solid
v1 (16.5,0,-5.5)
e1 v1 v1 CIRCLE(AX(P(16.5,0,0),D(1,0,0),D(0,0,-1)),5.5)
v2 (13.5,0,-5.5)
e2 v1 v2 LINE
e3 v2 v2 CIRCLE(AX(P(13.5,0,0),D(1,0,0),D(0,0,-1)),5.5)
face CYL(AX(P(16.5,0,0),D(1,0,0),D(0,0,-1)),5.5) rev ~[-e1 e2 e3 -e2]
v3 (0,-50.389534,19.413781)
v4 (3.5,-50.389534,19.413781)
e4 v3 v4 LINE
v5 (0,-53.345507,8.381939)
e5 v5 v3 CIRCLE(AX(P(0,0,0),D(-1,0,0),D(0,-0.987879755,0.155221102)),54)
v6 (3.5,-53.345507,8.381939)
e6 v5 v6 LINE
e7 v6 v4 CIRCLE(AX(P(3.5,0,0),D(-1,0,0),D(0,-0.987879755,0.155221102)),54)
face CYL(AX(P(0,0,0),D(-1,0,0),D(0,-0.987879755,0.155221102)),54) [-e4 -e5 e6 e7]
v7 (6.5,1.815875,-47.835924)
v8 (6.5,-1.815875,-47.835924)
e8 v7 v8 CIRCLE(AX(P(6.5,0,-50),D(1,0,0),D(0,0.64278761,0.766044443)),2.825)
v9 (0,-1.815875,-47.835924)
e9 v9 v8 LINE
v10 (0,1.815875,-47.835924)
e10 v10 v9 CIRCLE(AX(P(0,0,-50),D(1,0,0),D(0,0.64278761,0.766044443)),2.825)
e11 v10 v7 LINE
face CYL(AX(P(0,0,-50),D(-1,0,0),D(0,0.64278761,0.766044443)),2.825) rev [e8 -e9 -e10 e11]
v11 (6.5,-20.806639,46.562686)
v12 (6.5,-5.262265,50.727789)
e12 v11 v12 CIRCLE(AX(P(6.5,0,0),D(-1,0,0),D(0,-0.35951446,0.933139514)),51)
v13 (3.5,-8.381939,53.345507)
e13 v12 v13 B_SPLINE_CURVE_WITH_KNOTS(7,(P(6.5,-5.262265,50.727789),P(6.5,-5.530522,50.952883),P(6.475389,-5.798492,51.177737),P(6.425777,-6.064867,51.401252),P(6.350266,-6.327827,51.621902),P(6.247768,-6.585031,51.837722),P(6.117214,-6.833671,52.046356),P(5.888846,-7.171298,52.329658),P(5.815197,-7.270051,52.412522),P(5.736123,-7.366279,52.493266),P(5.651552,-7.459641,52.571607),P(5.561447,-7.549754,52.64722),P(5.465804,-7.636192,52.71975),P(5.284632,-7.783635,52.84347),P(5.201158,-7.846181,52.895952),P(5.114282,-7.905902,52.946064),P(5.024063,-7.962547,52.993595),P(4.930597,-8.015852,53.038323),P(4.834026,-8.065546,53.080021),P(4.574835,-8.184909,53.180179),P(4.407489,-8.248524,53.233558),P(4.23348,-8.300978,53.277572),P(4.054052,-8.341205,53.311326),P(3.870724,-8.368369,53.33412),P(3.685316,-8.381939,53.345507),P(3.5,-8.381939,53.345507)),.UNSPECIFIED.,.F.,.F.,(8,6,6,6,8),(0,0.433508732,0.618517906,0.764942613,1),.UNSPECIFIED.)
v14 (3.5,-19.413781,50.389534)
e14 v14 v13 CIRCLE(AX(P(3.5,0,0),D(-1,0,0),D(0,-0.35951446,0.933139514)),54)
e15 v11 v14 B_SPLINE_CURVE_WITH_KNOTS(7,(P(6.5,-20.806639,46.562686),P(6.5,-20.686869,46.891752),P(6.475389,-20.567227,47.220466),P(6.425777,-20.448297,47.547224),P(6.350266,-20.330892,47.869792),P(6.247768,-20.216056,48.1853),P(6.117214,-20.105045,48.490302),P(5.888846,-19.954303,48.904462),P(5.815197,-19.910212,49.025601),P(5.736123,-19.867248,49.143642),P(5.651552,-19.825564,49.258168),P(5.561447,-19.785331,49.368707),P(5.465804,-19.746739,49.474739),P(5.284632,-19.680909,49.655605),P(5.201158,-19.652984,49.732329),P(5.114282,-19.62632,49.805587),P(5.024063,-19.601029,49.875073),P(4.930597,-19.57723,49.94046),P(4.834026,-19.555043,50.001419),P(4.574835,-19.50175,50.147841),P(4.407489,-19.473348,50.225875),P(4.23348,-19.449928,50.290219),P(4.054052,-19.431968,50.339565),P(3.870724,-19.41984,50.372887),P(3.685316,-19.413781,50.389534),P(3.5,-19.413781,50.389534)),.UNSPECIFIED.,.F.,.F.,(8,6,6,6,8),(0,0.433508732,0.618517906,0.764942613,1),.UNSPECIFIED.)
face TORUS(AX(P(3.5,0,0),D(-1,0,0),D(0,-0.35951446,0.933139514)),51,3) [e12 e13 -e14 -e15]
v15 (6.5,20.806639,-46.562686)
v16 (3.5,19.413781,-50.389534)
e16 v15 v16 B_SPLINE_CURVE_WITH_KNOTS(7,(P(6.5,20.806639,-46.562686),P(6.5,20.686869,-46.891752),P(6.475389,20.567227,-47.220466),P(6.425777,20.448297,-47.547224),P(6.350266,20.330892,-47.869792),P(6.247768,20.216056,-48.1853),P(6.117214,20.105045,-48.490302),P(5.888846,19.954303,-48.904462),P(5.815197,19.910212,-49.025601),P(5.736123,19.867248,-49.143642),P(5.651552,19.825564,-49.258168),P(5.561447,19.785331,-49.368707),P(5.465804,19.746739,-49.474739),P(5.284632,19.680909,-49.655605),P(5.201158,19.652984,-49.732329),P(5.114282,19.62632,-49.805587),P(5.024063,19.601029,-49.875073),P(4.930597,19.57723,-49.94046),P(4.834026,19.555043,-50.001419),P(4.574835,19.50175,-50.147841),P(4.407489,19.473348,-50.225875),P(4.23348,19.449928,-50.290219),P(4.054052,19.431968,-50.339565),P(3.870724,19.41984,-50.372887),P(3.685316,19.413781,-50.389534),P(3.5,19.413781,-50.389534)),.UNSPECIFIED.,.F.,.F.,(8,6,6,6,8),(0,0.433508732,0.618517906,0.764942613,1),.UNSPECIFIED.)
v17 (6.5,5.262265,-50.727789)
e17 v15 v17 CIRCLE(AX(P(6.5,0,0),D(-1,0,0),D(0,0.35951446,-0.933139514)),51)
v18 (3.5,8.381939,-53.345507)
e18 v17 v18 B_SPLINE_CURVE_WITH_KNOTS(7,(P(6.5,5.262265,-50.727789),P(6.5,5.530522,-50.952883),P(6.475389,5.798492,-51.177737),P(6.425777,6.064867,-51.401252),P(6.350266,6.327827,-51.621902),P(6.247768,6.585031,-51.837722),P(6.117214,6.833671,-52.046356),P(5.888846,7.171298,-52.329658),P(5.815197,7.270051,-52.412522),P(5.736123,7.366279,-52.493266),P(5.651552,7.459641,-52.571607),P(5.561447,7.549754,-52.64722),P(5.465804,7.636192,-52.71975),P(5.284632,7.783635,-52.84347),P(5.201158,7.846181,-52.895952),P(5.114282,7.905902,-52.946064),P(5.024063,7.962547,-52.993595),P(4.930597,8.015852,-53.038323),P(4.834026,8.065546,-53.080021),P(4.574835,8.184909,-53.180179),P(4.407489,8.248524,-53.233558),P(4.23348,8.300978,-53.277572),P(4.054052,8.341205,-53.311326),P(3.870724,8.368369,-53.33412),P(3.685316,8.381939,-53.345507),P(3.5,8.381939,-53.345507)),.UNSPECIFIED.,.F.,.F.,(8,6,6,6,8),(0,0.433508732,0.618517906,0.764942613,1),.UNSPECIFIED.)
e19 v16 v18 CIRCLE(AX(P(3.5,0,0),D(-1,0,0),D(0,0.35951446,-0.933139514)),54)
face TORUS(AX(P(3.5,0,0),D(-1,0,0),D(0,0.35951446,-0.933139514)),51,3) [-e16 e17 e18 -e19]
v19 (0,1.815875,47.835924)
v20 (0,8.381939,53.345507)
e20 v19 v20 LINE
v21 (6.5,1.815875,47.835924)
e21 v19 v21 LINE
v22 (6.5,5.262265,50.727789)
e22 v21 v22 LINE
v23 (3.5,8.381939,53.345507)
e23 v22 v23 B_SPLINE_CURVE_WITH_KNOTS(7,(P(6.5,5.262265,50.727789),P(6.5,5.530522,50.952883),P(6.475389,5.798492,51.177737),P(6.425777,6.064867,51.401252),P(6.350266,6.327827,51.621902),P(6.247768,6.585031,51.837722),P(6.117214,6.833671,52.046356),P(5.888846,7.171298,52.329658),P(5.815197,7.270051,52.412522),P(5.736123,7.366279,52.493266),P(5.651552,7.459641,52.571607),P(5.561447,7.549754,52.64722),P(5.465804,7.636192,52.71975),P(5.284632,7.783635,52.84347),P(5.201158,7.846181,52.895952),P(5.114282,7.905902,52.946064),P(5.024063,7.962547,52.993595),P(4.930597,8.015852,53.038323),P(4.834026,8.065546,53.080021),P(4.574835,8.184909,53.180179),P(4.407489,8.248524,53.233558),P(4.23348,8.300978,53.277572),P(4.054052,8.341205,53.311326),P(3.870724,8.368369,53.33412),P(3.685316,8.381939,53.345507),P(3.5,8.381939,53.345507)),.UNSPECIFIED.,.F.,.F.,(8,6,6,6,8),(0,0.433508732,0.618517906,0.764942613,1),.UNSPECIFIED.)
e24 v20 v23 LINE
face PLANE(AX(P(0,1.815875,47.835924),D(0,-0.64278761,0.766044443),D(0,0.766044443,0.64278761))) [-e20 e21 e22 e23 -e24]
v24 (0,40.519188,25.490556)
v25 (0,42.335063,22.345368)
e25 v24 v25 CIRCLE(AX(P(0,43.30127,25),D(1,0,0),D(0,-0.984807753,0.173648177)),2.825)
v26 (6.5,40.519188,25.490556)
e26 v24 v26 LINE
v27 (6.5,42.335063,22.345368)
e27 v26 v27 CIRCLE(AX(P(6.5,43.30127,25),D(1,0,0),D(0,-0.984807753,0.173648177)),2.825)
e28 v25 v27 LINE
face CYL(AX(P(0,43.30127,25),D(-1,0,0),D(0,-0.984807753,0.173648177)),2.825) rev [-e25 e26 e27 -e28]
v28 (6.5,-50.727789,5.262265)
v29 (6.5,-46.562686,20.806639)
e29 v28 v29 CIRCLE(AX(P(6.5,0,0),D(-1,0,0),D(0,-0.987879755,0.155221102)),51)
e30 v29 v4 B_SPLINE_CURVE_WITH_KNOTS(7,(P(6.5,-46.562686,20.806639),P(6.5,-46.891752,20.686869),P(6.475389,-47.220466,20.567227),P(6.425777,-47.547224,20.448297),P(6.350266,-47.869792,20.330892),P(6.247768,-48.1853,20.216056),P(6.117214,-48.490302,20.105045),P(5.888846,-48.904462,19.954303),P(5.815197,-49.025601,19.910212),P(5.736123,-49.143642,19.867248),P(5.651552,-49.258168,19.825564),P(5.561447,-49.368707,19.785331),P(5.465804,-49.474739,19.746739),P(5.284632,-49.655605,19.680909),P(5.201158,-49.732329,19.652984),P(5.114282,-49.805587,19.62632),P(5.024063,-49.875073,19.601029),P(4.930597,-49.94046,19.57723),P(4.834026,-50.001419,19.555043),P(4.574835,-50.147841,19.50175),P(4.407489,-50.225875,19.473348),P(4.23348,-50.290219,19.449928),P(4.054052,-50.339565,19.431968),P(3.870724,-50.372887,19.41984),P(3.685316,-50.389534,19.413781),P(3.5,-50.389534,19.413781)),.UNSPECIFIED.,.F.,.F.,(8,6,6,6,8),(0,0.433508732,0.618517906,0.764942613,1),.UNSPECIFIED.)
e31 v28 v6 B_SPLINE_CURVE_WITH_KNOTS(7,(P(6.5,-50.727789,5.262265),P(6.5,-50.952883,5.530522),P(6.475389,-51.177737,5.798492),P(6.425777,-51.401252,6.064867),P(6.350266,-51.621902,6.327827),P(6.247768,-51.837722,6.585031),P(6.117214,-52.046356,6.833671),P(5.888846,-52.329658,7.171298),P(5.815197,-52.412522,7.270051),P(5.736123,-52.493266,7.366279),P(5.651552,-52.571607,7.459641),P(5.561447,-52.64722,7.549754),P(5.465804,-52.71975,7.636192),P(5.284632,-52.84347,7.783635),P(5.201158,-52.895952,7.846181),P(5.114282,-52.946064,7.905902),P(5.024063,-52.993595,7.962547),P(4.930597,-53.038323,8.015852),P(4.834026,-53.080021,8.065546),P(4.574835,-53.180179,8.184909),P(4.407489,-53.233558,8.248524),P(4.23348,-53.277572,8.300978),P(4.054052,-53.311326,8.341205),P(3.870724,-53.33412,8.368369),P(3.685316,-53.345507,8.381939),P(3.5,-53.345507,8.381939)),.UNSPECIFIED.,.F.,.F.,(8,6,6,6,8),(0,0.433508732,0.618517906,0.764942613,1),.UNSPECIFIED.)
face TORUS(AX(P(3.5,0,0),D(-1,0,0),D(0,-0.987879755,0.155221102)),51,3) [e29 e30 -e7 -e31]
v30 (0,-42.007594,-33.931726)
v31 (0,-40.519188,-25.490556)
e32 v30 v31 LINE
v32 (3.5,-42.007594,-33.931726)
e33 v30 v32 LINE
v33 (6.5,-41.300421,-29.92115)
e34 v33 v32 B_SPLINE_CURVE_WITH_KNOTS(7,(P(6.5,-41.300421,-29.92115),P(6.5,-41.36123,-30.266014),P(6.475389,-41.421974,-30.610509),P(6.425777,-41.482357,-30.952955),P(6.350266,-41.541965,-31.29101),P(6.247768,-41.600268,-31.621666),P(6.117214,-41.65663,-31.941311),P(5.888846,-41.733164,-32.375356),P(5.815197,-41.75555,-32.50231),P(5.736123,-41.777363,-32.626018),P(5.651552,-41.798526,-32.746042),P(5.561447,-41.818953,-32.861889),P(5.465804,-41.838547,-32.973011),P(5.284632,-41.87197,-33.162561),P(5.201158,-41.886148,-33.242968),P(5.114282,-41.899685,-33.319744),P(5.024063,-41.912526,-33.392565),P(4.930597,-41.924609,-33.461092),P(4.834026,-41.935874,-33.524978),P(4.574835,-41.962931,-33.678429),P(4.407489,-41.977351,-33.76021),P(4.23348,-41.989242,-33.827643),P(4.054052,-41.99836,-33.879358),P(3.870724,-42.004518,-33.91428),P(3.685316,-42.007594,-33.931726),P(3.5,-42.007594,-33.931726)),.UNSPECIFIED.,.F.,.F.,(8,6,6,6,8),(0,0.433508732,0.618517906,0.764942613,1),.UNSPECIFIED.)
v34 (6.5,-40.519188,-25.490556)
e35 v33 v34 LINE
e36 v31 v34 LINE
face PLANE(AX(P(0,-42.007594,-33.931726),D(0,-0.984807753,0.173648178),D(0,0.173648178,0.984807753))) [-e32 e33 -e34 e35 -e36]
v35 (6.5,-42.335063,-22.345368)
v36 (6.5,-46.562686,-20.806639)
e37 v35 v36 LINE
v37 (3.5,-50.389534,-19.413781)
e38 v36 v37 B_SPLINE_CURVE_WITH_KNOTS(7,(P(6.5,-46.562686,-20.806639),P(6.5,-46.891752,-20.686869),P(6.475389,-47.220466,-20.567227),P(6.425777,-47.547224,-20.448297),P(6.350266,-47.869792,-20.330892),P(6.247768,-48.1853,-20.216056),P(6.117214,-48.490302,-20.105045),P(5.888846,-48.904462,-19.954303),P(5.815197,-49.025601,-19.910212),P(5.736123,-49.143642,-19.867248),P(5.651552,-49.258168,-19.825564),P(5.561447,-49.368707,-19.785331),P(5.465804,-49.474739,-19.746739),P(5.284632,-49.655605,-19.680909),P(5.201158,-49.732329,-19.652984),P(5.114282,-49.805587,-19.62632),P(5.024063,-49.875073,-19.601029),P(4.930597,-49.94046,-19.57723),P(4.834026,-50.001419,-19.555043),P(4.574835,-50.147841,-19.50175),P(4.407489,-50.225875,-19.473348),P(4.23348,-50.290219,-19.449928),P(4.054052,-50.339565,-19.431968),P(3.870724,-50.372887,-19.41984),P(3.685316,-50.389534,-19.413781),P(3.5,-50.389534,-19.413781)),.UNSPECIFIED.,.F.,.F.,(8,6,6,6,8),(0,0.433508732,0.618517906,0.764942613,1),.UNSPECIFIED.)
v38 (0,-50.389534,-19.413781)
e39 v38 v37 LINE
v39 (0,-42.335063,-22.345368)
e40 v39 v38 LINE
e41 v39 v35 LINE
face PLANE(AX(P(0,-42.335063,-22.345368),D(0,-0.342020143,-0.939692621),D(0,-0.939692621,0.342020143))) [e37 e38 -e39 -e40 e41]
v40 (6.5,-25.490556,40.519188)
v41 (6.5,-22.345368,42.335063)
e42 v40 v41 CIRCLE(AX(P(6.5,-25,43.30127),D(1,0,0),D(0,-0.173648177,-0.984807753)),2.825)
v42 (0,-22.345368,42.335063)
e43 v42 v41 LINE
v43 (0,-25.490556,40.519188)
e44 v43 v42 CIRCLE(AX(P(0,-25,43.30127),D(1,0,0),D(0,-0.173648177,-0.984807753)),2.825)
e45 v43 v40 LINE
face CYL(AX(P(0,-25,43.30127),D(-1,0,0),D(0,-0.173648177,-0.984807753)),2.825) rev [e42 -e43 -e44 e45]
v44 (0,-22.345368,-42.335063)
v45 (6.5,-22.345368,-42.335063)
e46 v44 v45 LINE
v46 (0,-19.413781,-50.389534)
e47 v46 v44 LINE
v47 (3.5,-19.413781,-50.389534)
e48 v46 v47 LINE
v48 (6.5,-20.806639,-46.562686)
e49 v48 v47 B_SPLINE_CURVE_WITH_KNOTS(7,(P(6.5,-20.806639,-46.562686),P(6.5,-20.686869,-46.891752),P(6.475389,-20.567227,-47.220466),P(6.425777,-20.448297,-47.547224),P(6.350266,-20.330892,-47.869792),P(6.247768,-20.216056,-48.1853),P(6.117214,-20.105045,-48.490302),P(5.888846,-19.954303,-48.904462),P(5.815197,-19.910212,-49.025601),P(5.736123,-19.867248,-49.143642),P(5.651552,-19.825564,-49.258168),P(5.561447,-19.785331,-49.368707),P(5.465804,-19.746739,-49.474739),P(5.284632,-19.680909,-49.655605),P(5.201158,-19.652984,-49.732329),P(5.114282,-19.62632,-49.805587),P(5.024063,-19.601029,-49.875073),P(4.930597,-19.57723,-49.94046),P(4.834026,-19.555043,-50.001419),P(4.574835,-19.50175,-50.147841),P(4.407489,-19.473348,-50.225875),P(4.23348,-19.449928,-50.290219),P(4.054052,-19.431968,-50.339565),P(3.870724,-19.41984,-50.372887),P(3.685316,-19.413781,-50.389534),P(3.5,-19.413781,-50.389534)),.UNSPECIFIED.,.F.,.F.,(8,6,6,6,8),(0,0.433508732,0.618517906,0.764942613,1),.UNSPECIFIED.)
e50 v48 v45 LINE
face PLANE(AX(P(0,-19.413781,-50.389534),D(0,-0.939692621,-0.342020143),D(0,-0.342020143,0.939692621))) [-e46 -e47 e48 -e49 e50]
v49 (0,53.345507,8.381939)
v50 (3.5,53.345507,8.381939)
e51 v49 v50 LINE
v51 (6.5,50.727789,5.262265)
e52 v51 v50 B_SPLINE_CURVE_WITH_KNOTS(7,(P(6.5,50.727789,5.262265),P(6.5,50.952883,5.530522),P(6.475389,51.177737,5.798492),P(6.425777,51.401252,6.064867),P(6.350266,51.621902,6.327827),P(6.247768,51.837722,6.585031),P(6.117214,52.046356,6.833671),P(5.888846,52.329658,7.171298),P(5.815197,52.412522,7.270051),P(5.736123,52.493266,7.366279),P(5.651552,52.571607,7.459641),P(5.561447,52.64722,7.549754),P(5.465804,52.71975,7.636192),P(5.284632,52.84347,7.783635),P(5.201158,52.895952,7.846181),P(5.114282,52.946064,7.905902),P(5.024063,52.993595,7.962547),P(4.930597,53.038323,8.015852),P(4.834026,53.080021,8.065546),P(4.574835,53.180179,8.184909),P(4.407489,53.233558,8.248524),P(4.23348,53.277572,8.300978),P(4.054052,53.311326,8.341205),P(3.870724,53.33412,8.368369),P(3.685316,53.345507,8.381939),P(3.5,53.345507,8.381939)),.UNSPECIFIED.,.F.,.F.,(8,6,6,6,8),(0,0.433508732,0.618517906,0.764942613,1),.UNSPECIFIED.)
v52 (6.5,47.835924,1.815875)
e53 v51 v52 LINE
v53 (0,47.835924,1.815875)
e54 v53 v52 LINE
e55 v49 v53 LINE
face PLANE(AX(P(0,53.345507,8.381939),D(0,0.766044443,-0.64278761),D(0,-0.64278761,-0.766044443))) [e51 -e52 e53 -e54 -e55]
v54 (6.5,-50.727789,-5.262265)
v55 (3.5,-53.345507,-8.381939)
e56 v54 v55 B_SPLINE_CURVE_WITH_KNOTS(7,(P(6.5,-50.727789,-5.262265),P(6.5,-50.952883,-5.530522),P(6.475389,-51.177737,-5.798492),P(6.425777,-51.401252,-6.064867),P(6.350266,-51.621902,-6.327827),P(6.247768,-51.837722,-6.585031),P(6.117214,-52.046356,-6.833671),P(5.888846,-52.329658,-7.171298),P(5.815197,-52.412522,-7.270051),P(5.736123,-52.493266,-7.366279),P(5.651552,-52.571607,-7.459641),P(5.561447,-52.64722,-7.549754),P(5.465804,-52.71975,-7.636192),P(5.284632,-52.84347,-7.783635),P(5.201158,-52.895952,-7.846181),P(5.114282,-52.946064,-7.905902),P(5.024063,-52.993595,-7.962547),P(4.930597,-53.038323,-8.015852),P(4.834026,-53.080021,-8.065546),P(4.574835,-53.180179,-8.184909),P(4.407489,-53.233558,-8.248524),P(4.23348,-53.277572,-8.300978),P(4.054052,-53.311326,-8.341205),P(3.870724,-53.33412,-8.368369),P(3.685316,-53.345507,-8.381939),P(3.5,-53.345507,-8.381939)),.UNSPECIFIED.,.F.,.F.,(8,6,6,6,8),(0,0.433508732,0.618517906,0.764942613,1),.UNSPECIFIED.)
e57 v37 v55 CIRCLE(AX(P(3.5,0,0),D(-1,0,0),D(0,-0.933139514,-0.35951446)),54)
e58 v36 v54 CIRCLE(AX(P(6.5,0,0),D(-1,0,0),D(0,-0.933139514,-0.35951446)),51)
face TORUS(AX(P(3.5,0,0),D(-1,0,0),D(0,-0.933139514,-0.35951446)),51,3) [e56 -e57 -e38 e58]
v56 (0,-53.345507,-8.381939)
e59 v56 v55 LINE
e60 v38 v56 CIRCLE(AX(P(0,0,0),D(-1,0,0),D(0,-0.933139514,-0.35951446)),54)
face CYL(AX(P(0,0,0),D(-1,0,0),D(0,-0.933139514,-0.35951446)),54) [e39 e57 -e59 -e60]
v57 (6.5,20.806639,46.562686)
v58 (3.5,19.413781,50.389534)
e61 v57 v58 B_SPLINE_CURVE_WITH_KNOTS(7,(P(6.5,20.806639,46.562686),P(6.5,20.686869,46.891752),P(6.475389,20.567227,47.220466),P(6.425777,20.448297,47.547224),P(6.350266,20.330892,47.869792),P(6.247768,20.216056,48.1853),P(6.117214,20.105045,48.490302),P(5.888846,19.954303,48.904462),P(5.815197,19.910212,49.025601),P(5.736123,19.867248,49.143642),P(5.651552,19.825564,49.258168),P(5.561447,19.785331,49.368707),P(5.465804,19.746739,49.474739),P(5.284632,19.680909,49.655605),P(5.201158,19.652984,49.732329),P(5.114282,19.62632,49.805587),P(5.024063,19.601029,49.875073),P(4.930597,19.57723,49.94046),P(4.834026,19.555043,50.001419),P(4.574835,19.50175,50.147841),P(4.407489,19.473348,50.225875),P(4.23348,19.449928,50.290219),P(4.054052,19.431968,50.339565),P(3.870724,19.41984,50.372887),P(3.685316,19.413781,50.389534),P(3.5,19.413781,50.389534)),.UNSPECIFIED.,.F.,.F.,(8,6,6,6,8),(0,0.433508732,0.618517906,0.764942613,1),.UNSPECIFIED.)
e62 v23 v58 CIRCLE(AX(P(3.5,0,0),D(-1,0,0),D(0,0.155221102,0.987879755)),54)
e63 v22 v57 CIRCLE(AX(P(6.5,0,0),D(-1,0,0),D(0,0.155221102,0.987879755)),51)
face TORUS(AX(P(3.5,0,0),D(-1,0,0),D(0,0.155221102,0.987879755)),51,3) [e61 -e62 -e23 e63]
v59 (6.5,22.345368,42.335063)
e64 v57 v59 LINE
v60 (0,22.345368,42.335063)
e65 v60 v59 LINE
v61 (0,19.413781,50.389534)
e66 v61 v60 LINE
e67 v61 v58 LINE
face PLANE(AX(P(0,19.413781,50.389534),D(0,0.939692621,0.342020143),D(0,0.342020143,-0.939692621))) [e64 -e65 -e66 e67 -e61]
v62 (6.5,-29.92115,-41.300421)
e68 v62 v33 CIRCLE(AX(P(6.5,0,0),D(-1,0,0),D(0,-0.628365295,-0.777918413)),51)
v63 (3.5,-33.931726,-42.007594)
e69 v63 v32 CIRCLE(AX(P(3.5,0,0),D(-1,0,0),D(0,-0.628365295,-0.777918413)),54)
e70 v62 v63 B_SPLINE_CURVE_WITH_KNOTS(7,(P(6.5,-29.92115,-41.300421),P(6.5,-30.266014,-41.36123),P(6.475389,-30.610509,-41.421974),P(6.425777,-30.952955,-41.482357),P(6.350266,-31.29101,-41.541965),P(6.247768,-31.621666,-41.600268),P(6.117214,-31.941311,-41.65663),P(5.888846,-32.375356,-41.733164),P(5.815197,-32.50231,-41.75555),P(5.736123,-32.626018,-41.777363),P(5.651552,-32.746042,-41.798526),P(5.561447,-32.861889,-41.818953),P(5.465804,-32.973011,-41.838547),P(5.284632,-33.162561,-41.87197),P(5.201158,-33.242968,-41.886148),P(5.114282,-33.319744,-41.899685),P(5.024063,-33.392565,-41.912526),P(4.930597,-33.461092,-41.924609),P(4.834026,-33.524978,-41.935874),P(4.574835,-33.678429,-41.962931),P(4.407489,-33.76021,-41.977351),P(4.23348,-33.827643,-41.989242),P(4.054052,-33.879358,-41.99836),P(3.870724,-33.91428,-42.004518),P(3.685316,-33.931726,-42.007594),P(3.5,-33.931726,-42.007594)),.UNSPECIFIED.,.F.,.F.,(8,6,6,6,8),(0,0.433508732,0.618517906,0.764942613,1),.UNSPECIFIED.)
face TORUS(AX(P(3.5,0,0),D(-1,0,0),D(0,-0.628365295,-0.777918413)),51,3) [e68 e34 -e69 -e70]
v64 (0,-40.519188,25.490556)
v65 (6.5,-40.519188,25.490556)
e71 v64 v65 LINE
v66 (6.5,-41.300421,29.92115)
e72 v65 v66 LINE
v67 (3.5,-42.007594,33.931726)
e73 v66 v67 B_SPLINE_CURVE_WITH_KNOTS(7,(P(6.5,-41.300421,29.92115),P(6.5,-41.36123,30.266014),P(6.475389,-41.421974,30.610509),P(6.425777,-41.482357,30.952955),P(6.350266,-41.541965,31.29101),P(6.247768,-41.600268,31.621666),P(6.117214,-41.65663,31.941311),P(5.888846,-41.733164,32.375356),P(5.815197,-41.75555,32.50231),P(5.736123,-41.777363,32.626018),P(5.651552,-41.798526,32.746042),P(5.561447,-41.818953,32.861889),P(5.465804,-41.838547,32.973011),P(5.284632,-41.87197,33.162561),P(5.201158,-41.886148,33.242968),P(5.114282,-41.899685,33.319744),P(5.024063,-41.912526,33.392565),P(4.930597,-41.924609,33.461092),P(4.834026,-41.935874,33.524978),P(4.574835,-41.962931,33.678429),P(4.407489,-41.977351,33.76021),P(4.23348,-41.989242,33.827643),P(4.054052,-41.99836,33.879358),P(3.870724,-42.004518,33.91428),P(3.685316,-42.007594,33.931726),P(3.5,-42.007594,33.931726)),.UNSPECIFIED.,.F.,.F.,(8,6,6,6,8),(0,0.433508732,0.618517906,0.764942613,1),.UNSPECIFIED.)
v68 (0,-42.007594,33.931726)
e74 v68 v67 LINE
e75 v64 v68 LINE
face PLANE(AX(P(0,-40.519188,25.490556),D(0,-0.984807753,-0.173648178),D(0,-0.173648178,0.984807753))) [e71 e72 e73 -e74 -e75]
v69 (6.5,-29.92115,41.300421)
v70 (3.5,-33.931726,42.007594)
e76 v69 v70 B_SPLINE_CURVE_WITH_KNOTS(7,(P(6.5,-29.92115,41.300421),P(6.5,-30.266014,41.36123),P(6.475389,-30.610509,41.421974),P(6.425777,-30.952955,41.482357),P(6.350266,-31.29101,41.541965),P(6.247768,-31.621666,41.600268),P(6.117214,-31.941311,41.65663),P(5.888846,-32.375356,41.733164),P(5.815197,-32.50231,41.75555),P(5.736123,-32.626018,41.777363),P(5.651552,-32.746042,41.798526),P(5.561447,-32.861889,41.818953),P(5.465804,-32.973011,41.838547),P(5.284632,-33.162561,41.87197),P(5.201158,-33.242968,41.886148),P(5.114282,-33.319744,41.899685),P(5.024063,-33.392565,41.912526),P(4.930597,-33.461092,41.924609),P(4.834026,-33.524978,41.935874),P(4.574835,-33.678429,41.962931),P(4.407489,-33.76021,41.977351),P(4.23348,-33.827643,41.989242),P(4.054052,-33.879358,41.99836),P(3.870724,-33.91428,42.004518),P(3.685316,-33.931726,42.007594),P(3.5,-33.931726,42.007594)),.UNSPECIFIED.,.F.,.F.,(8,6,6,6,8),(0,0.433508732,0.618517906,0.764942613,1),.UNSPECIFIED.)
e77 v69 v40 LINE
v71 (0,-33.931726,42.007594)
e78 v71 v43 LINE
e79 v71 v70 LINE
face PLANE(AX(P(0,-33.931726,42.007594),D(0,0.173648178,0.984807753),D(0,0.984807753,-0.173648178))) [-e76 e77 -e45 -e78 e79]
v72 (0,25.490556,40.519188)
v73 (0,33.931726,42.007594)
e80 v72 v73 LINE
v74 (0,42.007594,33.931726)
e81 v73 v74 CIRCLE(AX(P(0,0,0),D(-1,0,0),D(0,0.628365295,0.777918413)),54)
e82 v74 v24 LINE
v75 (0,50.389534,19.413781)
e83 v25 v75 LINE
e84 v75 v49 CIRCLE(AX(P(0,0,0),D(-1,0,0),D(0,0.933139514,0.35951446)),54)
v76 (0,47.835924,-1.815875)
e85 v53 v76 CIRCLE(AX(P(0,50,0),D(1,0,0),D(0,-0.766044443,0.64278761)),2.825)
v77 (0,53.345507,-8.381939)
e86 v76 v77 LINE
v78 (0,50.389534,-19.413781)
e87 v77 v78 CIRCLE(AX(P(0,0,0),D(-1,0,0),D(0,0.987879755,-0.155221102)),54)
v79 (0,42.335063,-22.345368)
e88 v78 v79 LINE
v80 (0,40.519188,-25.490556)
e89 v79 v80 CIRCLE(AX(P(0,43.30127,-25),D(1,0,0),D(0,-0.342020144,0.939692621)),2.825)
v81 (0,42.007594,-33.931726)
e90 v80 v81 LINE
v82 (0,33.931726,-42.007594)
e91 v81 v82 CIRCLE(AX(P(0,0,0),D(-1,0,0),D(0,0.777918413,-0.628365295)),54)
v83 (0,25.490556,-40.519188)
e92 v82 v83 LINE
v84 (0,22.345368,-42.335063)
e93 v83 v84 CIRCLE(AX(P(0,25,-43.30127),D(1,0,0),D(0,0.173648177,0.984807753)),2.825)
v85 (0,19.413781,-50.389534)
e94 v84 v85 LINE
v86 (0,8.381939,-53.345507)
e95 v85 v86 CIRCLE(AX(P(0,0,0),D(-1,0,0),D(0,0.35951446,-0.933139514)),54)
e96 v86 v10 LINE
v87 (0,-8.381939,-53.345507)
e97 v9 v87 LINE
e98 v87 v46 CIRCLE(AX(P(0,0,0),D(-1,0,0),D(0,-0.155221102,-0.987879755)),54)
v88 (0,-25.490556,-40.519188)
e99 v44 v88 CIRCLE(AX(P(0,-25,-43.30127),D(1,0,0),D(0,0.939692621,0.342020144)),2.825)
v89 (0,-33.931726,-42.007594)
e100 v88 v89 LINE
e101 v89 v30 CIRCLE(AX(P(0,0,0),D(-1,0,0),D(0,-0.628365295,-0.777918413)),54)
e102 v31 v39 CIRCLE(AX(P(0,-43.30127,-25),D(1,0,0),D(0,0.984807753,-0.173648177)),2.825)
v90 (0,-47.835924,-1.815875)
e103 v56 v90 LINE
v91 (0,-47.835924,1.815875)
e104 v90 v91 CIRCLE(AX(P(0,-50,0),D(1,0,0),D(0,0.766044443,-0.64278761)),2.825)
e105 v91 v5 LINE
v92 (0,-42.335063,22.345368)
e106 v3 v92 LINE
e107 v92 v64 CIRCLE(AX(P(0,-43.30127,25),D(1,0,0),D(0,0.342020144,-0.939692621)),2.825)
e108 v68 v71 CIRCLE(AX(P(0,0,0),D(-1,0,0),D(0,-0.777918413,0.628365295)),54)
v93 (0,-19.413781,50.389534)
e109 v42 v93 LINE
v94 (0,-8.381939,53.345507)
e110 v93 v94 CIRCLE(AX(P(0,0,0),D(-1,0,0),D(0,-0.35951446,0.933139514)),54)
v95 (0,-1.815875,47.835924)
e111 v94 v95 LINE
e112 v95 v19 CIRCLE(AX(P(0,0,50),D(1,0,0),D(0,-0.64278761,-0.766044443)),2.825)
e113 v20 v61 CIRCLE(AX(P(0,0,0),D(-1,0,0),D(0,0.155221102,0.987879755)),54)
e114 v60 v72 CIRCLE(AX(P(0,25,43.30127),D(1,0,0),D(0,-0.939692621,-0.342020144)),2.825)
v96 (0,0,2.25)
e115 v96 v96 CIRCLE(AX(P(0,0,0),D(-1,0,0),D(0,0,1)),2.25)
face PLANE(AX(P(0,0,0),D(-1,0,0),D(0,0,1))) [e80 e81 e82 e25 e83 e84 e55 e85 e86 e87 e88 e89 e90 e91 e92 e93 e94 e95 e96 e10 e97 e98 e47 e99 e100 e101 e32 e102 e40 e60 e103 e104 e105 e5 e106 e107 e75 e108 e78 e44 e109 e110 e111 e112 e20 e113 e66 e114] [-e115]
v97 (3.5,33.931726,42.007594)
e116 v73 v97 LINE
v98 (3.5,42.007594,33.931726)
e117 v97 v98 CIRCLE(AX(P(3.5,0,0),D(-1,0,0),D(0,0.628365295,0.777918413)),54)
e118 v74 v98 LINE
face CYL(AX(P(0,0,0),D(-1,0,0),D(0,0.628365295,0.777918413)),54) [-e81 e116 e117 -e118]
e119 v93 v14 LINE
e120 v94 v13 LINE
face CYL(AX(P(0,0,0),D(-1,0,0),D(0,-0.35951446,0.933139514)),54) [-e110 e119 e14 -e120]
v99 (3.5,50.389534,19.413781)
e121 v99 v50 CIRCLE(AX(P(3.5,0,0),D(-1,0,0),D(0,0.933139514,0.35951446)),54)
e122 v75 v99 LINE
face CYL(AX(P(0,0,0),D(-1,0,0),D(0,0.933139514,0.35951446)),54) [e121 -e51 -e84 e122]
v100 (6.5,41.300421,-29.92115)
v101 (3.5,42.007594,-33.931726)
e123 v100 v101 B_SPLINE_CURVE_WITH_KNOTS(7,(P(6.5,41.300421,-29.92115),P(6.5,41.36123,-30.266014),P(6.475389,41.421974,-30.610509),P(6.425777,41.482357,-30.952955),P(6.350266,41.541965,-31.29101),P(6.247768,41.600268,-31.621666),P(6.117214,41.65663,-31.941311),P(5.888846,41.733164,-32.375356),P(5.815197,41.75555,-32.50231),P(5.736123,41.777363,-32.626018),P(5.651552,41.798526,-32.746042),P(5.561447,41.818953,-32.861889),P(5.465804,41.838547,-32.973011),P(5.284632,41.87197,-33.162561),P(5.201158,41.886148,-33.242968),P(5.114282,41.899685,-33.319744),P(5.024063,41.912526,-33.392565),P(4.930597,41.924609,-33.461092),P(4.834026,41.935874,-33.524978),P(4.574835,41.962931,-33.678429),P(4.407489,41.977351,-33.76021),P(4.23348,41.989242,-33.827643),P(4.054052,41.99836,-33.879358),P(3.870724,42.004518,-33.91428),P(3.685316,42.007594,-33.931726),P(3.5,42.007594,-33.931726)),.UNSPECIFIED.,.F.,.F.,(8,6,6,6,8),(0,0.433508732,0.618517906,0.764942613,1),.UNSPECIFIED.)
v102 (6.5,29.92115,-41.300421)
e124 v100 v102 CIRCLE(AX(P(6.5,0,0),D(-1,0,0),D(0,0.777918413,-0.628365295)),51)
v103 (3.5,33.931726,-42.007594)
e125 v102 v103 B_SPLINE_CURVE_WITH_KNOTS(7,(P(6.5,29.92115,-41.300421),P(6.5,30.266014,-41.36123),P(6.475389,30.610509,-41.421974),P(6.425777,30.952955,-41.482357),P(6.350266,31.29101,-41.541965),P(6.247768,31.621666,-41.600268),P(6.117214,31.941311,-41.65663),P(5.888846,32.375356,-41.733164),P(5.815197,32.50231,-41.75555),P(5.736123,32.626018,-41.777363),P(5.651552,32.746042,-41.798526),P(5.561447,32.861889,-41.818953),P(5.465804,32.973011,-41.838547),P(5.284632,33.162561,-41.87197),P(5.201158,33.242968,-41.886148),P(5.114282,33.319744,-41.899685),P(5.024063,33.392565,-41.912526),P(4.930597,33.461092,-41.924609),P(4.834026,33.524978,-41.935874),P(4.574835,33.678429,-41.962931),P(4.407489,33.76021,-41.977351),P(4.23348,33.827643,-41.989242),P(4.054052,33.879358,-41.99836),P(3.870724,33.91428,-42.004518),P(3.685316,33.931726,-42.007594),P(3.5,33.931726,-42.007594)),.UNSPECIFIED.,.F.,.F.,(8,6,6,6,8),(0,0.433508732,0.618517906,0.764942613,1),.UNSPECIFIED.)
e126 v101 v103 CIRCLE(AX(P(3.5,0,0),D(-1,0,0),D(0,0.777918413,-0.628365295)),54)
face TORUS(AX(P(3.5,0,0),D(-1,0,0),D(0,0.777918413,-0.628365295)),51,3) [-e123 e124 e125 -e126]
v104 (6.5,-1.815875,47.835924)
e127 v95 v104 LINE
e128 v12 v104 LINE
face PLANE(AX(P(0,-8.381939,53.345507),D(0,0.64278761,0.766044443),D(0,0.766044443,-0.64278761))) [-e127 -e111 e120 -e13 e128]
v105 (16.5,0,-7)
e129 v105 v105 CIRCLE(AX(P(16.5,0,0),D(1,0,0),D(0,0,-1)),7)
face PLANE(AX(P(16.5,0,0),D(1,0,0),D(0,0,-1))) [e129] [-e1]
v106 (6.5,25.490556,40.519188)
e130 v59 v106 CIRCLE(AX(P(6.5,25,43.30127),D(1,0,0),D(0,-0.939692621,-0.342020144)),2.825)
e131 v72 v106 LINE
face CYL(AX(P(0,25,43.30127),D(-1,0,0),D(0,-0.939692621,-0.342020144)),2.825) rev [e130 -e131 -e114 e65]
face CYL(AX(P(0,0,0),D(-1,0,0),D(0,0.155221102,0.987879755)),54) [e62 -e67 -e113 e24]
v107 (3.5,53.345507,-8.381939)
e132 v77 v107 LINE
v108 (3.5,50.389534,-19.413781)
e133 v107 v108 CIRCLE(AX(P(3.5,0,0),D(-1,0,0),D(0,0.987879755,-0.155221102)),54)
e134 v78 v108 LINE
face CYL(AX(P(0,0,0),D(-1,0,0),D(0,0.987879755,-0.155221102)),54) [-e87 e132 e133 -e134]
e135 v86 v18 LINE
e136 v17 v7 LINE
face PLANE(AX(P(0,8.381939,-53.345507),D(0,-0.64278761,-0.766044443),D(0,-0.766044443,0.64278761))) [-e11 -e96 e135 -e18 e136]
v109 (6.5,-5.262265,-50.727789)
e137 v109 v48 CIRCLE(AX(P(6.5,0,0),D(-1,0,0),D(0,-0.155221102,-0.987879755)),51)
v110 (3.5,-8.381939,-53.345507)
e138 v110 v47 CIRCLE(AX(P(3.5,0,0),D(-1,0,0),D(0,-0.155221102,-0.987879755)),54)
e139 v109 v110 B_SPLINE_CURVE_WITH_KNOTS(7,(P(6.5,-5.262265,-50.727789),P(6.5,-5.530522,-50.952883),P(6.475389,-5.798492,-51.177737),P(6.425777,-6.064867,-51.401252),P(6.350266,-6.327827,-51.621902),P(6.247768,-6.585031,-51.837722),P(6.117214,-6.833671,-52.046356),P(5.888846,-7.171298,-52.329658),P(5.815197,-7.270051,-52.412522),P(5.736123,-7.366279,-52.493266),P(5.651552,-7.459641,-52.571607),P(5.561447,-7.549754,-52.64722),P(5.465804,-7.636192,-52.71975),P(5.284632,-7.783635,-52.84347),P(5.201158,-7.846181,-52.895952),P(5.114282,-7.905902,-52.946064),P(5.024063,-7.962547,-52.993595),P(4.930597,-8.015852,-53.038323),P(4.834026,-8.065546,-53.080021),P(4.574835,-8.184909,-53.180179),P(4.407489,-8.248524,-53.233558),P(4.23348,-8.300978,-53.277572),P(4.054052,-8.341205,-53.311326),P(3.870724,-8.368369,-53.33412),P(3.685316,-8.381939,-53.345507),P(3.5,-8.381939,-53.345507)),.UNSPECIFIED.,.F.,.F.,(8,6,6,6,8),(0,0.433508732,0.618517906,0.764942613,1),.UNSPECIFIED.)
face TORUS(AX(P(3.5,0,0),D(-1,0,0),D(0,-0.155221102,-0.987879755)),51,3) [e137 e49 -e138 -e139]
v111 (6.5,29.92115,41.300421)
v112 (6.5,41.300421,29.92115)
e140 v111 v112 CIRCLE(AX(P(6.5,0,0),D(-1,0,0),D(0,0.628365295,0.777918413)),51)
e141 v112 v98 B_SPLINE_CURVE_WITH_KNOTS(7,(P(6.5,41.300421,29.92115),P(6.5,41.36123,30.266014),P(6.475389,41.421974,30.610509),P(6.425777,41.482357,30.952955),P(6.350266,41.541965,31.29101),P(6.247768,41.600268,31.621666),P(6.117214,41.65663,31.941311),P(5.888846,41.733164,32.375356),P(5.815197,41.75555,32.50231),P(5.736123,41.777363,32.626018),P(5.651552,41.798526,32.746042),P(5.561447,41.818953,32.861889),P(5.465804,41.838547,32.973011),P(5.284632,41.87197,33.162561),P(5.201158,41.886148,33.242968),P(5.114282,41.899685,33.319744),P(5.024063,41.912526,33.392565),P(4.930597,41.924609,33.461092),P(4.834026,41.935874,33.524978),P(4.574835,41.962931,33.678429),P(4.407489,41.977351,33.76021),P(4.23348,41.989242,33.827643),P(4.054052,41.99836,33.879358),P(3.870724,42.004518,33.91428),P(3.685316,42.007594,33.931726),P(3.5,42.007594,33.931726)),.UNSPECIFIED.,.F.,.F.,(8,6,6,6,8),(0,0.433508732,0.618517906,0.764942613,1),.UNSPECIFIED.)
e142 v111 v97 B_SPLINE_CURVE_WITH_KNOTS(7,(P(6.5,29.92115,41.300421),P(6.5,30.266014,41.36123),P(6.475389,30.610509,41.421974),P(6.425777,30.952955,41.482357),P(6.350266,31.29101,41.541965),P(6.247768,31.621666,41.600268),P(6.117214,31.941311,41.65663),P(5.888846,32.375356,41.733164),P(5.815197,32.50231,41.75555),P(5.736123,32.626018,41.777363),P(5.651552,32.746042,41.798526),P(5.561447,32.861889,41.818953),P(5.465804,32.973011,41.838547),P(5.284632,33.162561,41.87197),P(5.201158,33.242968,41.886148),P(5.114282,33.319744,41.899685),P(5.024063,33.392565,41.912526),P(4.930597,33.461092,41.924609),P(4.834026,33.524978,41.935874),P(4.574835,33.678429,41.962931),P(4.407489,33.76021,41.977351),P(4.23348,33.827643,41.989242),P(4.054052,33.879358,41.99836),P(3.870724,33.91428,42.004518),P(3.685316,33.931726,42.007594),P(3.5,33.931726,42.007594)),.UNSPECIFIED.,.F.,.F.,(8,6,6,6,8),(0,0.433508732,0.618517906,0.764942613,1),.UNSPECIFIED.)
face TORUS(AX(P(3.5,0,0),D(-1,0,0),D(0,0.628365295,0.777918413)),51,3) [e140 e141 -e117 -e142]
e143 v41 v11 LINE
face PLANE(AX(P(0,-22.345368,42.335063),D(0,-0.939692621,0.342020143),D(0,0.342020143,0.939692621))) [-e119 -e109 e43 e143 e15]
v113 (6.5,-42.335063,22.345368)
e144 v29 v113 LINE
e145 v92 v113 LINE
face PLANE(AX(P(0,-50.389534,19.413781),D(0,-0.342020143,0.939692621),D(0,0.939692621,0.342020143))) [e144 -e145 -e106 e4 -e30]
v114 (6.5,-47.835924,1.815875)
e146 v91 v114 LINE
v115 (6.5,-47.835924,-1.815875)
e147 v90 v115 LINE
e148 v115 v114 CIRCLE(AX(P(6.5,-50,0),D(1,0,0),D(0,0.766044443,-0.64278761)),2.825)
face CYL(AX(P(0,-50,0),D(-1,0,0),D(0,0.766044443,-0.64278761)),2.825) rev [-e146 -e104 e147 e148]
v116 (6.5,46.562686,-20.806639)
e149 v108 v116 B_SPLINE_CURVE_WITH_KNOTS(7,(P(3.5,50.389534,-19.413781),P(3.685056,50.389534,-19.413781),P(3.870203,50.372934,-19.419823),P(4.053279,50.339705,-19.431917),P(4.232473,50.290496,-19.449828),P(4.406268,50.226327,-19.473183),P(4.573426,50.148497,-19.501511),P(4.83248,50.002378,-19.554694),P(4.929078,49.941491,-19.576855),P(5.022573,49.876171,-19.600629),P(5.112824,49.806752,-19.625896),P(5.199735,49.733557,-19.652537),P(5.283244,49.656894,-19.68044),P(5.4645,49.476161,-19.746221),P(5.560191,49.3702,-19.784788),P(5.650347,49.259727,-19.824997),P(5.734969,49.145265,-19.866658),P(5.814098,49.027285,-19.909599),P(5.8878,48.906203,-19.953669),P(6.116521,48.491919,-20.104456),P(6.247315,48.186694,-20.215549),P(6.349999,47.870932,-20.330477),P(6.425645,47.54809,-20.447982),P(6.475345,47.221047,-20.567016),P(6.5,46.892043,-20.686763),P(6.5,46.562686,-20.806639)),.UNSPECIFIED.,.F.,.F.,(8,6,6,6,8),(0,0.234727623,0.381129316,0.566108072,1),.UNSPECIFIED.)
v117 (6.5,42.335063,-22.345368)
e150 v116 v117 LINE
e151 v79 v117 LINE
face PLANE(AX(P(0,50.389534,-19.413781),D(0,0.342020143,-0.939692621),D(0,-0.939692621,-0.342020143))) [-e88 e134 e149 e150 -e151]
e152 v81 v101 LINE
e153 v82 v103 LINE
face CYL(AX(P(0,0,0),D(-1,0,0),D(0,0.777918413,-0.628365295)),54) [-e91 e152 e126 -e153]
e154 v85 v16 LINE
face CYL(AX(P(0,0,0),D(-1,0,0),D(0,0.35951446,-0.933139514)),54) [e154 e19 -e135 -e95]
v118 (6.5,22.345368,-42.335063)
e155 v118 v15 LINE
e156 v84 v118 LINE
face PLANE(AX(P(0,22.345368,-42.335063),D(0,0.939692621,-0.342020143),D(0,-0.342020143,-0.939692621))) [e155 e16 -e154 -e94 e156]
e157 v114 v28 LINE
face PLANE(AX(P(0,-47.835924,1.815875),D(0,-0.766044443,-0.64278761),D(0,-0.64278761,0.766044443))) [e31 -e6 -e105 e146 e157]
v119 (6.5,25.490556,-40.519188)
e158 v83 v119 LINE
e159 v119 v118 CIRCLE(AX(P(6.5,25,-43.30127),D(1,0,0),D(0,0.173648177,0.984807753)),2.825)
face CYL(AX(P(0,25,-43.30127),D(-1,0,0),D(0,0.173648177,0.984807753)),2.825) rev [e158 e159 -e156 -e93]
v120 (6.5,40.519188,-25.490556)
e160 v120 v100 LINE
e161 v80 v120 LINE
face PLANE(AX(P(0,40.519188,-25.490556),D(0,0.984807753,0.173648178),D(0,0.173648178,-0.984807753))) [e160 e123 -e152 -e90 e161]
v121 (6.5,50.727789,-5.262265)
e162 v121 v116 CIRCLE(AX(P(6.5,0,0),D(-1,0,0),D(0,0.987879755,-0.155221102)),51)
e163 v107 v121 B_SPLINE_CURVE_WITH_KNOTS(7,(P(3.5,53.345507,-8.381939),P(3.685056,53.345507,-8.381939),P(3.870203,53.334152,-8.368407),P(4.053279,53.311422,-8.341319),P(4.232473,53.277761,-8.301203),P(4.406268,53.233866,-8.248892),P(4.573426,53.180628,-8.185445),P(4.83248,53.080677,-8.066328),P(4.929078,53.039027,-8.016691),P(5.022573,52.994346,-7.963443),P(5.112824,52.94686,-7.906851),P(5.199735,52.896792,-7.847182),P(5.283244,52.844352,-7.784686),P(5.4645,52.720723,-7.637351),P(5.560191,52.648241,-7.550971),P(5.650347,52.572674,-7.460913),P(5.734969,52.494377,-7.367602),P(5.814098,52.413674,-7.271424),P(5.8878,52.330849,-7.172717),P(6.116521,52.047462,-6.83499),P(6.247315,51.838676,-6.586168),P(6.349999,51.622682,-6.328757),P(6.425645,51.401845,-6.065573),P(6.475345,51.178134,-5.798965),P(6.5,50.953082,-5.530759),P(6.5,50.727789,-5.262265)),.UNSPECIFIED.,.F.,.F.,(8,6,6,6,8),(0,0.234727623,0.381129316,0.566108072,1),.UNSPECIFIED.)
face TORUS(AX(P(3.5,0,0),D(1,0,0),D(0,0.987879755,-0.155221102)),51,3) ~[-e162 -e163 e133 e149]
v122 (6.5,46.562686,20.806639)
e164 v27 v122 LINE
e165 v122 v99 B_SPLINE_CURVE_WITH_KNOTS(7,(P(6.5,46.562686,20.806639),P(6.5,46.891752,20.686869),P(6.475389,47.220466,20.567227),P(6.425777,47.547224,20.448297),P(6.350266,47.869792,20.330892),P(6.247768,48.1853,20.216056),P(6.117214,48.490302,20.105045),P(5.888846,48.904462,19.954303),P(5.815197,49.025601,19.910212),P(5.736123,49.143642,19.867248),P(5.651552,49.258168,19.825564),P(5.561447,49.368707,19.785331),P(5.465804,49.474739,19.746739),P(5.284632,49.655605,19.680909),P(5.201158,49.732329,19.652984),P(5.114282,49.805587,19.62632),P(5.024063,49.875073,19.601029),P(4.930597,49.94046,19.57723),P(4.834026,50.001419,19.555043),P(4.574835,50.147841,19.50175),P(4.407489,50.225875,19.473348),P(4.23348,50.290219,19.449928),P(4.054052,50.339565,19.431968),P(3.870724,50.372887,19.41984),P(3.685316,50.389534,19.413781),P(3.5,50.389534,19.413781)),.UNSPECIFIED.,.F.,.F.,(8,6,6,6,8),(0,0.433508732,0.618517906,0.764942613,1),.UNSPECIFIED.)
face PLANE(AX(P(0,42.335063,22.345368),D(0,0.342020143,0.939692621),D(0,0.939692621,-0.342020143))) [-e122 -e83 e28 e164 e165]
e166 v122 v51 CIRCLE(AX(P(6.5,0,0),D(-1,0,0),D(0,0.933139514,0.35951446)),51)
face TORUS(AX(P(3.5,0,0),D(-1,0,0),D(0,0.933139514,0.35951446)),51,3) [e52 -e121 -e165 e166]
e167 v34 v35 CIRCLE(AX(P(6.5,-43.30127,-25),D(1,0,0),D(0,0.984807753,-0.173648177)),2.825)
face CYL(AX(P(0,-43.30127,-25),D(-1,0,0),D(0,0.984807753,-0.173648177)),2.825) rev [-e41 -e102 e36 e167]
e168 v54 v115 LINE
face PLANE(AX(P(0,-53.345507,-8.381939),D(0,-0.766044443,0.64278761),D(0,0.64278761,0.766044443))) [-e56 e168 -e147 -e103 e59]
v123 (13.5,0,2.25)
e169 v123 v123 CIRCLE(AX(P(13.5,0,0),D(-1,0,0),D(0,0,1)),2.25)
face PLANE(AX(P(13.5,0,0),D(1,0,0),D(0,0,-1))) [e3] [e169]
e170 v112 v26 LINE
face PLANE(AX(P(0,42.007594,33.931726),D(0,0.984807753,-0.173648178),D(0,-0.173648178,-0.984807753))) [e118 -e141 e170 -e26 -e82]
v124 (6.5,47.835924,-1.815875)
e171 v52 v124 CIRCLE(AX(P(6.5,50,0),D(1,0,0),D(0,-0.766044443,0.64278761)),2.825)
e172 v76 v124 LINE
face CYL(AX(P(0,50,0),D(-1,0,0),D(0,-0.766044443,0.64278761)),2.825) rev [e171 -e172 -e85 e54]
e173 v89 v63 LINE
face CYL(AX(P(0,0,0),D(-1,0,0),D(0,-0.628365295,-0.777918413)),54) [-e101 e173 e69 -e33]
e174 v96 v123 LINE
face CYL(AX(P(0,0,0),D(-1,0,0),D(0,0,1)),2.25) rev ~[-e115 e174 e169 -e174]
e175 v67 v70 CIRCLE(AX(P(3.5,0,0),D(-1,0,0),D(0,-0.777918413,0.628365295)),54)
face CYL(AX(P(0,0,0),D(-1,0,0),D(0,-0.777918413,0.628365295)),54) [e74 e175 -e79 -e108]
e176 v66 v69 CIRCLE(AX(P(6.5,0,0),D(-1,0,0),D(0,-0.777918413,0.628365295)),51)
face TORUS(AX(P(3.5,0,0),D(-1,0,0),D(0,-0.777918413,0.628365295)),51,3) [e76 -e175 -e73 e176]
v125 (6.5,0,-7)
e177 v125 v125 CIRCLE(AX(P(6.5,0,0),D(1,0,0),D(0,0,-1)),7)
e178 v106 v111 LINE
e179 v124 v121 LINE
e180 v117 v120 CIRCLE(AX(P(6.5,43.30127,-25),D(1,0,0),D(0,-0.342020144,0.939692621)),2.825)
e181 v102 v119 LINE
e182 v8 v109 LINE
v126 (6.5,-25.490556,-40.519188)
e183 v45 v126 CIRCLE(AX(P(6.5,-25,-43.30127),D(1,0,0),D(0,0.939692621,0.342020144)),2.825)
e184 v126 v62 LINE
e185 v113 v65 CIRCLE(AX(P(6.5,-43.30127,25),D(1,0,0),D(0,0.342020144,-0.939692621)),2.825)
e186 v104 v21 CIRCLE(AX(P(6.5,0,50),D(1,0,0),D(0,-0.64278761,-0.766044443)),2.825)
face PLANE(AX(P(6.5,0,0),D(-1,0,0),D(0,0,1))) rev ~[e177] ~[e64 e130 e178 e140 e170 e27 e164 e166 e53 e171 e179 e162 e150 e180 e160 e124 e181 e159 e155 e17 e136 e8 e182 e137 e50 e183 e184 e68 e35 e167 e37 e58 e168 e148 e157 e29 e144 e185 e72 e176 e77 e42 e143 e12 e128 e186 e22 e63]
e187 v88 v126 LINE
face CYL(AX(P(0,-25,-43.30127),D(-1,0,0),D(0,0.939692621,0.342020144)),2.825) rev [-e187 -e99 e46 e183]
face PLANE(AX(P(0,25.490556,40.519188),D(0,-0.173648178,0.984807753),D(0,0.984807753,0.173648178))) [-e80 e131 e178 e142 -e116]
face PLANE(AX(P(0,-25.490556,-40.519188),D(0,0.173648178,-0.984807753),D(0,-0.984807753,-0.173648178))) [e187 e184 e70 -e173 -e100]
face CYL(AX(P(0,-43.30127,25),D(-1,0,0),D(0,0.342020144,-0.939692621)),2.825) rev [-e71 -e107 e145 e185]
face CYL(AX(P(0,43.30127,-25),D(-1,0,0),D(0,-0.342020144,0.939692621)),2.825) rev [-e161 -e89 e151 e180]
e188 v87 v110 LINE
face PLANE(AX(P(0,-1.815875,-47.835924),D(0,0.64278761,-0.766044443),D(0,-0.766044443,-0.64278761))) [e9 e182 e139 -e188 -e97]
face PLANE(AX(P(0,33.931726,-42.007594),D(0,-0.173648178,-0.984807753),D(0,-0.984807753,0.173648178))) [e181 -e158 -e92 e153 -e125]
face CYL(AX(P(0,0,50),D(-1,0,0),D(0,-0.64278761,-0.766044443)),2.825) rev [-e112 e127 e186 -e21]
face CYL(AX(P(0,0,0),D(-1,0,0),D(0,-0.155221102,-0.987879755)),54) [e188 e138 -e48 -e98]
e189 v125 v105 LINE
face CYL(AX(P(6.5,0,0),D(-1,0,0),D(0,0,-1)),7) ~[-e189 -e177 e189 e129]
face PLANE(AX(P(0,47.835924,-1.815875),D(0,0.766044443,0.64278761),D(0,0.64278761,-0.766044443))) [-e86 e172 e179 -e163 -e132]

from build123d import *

# Parameters (mm, degrees)
BOSS_EXTRUDE1_DEPTH     = 6.5
SKETCH2_R               = 7
BOSS_EXTRUDE2_DEPTH     = 10
SKETCH3_R               = 5.5
CUT_EXTRUDE1_DEPTH      = 3
SKETCH4_R               = 2.25
CUT_EXTRUDE2_DEPTH      = 1
CUT_EXTRUDE2_DEPTH_BACK = 17.5
FILLET1_R               = 3


with BuildPart() as part:
    # Sketch1 → Boss-Extrude1 (new body)
    with BuildSketch(Plane(origin=(0, 0, 0), x_dir=(0, 0, -1), z_dir=(1, 0, 0))):
        with BuildLine():
            Line((1.815874997, 47.835924448), (8.381939498, 53.345506749))
            ThreePointArc((8.381939498, 53.345506749), (13.976228436, 52.15999462), (19.413780836, 50.389533771))
            Line((19.413780836, 50.389533771), (22.345368346, 42.335063284))
            ThreePointArc((22.345368346, 42.335063284), (23.5875, 40.854748424), (25.490556102, 40.519188287))
            Line((25.490556102, 40.519188287), (33.931725912, 42.007594273))
            ThreePointArc((33.931725912, 42.007594273), (38.183766184, 38.183766184), (42.007594273, 33.931725912))
            Line((42.007594273, 33.931725912), (40.519188287, 25.490556102))
            ThreePointArc((40.519188287, 25.490556102), (40.854748424, 23.5875), (42.335063284, 22.345368346))
            Line((42.335063284, 22.345368346), (50.389533771, 19.413780836))
            ThreePointArc((50.389533771, 19.413780836), (52.15999462, 13.976228436), (53.345506749, 8.381939498))
            Line((53.345506749, 8.381939498), (47.835924448, 1.815874997))
            ThreePointArc((47.835924448, 1.815874997), (47.175, 0), (47.835924448, -1.815874997))
            Line((47.835924448, -1.815874997), (53.345506749, -8.381939498))
            ThreePointArc((53.345506749, -8.381939498), (52.15999462, -13.976228436), (50.389533771, -19.413780836))
            Line((50.389533771, -19.413780836), (42.335063284, -22.345368346))
            ThreePointArc((42.335063284, -22.345368346), (40.854748424, -23.5875), (40.519188287, -25.490556102))
            Line((40.519188287, -25.490556102), (42.007594273, -33.931725912))
            ThreePointArc((42.007594273, -33.931725912), (38.183766184, -38.183766184), (33.931725912, -42.007594273))
            Line((33.931725912, -42.007594273), (25.490556102, -40.519188287))
            ThreePointArc((25.490556102, -40.519188287), (23.5875, -40.854748424), (22.345368346, -42.335063284))
            Line((22.345368346, -42.335063284), (19.413780836, -50.389533771))
            ThreePointArc((19.413780836, -50.389533771), (13.976228436, -52.15999462), (8.381939498, -53.345506749))
            Line((8.381939498, -53.345506749), (1.815874997, -47.835924448))
            ThreePointArc((1.815874997, -47.835924448), (0, -47.175), (-1.815874997, -47.835924448))
            Line((-1.815874997, -47.835924448), (-8.381939498, -53.345506749))
            ThreePointArc((-8.381939498, -53.345506749), (-13.976228436, -52.15999462), (-19.413780836, -50.389533771))
            Line((-19.413780836, -50.389533771), (-22.345368346, -42.335063284))
            ThreePointArc((-22.345368346, -42.335063284), (-23.5875, -40.854748424), (-25.490556102, -40.519188287))
            Line((-25.490556102, -40.519188287), (-33.931725912, -42.007594273))
            ThreePointArc((-33.931725912, -42.007594273), (-38.183766184, -38.183766184), (-42.007594273, -33.931725912))
            Line((-42.007594273, -33.931725912), (-40.519188287, -25.490556102))
            ThreePointArc((-40.519188287, -25.490556102), (-40.854748424, -23.5875), (-42.335063284, -22.345368346))
            Line((-42.335063284, -22.345368346), (-50.389533771, -19.413780836))
            ThreePointArc((-50.389533771, -19.413780836), (-52.15999462, -13.976228436), (-53.345506749, -8.381939498))
            Line((-53.345506749, -8.381939498), (-47.835924448, -1.815874997))
            ThreePointArc((-47.835924448, -1.815874997), (-47.175, 0), (-47.835924448, 1.815874997))
            Line((-47.835924448, 1.815874997), (-53.345506749, 8.381939498))
            ThreePointArc((-53.345506749, 8.381939498), (-52.15999462, 13.976228436), (-50.389533771, 19.413780836))
            Line((-50.389533771, 19.413780836), (-42.335063284, 22.345368346))
            ThreePointArc((-42.335063284, 22.345368346), (-40.854748424, 23.5875), (-40.519188287, 25.490556102))
            Line((-40.519188287, 25.490556102), (-42.007594273, 33.931725912))
            ThreePointArc((-42.007594273, 33.931725912), (-38.183766184, 38.183766184), (-33.931725912, 42.007594273))
            Line((-33.931725912, 42.007594273), (-25.490556102, 40.519188287))
            ThreePointArc((-25.490556102, 40.519188287), (-23.5875, 40.854748424), (-22.345368346, 42.335063284))
            Line((-22.345368346, 42.335063284), (-19.413780836, 50.389533771))
            ThreePointArc((-19.413780836, 50.389533771), (-13.976228436, 52.15999462), (-8.381939498, 53.345506749))
            Line((-8.381939498, 53.345506749), (-1.815874997, 47.835924448))
            ThreePointArc((-1.815874997, 47.835924448), (0, 47.175), (1.815874997, 47.835924448))
        make_face()
    extrude(amount=BOSS_EXTRUDE1_DEPTH)

    # Sketch2 → Boss-Extrude2 (add)
    with BuildSketch(Plane(origin=(6.5, 0, 0), x_dir=(0, 0, -1), z_dir=(1, 0, 0))):
        Circle(SKETCH2_R)
    extrude(amount=BOSS_EXTRUDE2_DEPTH)

    # Sketch3 → Cut-Extrude1 (cut)
    with BuildSketch(Plane(origin=(16.5, 0, 0), x_dir=(0, 0, -1), z_dir=(1, 0, 0))):
        Circle(SKETCH3_R)
    extrude(amount=-CUT_EXTRUDE1_DEPTH, mode=Mode.SUBTRACT)

    # Sketch4 → Cut-Extrude2 (cut, two sides)
    with BuildSketch(Plane.ZY) as cut_extrude2_sk:
        Circle(SKETCH4_R)
    extrude(amount=CUT_EXTRUDE2_DEPTH, mode=Mode.SUBTRACT)
    extrude(cut_extrude2_sk.sketch, amount=-CUT_EXTRUDE2_DEPTH_BACK, mode=Mode.SUBTRACT)

    # Fillet1
    fillet1_edges = [part.edges().sort_by_distance(p)[0] for p in [
        (6.5, -52.15999462, 13.976228436),
        (6.5, -52.15999462, -13.976228436),
        (6.5, 52.15999462, -13.976228436),
        (6.5, -38.183766184, -38.183766184),
        (6.5, -13.976228436, -52.15999462),
        (6.5, 13.976228436, -52.15999462),
        (6.5, 38.183766184, -38.183766184),
        (6.5, 52.15999462, 13.976228436),
        (6.5, 38.183766184, 38.183766184),
        (6.5, 13.976228436, 52.15999462),
        (6.5, -13.976228436, 52.15999462),
        (6.5, -38.183766184, 38.183766184),
    ]]
    fillet(fillet1_edges, radius=FILLET1_R)


solid = part.part
